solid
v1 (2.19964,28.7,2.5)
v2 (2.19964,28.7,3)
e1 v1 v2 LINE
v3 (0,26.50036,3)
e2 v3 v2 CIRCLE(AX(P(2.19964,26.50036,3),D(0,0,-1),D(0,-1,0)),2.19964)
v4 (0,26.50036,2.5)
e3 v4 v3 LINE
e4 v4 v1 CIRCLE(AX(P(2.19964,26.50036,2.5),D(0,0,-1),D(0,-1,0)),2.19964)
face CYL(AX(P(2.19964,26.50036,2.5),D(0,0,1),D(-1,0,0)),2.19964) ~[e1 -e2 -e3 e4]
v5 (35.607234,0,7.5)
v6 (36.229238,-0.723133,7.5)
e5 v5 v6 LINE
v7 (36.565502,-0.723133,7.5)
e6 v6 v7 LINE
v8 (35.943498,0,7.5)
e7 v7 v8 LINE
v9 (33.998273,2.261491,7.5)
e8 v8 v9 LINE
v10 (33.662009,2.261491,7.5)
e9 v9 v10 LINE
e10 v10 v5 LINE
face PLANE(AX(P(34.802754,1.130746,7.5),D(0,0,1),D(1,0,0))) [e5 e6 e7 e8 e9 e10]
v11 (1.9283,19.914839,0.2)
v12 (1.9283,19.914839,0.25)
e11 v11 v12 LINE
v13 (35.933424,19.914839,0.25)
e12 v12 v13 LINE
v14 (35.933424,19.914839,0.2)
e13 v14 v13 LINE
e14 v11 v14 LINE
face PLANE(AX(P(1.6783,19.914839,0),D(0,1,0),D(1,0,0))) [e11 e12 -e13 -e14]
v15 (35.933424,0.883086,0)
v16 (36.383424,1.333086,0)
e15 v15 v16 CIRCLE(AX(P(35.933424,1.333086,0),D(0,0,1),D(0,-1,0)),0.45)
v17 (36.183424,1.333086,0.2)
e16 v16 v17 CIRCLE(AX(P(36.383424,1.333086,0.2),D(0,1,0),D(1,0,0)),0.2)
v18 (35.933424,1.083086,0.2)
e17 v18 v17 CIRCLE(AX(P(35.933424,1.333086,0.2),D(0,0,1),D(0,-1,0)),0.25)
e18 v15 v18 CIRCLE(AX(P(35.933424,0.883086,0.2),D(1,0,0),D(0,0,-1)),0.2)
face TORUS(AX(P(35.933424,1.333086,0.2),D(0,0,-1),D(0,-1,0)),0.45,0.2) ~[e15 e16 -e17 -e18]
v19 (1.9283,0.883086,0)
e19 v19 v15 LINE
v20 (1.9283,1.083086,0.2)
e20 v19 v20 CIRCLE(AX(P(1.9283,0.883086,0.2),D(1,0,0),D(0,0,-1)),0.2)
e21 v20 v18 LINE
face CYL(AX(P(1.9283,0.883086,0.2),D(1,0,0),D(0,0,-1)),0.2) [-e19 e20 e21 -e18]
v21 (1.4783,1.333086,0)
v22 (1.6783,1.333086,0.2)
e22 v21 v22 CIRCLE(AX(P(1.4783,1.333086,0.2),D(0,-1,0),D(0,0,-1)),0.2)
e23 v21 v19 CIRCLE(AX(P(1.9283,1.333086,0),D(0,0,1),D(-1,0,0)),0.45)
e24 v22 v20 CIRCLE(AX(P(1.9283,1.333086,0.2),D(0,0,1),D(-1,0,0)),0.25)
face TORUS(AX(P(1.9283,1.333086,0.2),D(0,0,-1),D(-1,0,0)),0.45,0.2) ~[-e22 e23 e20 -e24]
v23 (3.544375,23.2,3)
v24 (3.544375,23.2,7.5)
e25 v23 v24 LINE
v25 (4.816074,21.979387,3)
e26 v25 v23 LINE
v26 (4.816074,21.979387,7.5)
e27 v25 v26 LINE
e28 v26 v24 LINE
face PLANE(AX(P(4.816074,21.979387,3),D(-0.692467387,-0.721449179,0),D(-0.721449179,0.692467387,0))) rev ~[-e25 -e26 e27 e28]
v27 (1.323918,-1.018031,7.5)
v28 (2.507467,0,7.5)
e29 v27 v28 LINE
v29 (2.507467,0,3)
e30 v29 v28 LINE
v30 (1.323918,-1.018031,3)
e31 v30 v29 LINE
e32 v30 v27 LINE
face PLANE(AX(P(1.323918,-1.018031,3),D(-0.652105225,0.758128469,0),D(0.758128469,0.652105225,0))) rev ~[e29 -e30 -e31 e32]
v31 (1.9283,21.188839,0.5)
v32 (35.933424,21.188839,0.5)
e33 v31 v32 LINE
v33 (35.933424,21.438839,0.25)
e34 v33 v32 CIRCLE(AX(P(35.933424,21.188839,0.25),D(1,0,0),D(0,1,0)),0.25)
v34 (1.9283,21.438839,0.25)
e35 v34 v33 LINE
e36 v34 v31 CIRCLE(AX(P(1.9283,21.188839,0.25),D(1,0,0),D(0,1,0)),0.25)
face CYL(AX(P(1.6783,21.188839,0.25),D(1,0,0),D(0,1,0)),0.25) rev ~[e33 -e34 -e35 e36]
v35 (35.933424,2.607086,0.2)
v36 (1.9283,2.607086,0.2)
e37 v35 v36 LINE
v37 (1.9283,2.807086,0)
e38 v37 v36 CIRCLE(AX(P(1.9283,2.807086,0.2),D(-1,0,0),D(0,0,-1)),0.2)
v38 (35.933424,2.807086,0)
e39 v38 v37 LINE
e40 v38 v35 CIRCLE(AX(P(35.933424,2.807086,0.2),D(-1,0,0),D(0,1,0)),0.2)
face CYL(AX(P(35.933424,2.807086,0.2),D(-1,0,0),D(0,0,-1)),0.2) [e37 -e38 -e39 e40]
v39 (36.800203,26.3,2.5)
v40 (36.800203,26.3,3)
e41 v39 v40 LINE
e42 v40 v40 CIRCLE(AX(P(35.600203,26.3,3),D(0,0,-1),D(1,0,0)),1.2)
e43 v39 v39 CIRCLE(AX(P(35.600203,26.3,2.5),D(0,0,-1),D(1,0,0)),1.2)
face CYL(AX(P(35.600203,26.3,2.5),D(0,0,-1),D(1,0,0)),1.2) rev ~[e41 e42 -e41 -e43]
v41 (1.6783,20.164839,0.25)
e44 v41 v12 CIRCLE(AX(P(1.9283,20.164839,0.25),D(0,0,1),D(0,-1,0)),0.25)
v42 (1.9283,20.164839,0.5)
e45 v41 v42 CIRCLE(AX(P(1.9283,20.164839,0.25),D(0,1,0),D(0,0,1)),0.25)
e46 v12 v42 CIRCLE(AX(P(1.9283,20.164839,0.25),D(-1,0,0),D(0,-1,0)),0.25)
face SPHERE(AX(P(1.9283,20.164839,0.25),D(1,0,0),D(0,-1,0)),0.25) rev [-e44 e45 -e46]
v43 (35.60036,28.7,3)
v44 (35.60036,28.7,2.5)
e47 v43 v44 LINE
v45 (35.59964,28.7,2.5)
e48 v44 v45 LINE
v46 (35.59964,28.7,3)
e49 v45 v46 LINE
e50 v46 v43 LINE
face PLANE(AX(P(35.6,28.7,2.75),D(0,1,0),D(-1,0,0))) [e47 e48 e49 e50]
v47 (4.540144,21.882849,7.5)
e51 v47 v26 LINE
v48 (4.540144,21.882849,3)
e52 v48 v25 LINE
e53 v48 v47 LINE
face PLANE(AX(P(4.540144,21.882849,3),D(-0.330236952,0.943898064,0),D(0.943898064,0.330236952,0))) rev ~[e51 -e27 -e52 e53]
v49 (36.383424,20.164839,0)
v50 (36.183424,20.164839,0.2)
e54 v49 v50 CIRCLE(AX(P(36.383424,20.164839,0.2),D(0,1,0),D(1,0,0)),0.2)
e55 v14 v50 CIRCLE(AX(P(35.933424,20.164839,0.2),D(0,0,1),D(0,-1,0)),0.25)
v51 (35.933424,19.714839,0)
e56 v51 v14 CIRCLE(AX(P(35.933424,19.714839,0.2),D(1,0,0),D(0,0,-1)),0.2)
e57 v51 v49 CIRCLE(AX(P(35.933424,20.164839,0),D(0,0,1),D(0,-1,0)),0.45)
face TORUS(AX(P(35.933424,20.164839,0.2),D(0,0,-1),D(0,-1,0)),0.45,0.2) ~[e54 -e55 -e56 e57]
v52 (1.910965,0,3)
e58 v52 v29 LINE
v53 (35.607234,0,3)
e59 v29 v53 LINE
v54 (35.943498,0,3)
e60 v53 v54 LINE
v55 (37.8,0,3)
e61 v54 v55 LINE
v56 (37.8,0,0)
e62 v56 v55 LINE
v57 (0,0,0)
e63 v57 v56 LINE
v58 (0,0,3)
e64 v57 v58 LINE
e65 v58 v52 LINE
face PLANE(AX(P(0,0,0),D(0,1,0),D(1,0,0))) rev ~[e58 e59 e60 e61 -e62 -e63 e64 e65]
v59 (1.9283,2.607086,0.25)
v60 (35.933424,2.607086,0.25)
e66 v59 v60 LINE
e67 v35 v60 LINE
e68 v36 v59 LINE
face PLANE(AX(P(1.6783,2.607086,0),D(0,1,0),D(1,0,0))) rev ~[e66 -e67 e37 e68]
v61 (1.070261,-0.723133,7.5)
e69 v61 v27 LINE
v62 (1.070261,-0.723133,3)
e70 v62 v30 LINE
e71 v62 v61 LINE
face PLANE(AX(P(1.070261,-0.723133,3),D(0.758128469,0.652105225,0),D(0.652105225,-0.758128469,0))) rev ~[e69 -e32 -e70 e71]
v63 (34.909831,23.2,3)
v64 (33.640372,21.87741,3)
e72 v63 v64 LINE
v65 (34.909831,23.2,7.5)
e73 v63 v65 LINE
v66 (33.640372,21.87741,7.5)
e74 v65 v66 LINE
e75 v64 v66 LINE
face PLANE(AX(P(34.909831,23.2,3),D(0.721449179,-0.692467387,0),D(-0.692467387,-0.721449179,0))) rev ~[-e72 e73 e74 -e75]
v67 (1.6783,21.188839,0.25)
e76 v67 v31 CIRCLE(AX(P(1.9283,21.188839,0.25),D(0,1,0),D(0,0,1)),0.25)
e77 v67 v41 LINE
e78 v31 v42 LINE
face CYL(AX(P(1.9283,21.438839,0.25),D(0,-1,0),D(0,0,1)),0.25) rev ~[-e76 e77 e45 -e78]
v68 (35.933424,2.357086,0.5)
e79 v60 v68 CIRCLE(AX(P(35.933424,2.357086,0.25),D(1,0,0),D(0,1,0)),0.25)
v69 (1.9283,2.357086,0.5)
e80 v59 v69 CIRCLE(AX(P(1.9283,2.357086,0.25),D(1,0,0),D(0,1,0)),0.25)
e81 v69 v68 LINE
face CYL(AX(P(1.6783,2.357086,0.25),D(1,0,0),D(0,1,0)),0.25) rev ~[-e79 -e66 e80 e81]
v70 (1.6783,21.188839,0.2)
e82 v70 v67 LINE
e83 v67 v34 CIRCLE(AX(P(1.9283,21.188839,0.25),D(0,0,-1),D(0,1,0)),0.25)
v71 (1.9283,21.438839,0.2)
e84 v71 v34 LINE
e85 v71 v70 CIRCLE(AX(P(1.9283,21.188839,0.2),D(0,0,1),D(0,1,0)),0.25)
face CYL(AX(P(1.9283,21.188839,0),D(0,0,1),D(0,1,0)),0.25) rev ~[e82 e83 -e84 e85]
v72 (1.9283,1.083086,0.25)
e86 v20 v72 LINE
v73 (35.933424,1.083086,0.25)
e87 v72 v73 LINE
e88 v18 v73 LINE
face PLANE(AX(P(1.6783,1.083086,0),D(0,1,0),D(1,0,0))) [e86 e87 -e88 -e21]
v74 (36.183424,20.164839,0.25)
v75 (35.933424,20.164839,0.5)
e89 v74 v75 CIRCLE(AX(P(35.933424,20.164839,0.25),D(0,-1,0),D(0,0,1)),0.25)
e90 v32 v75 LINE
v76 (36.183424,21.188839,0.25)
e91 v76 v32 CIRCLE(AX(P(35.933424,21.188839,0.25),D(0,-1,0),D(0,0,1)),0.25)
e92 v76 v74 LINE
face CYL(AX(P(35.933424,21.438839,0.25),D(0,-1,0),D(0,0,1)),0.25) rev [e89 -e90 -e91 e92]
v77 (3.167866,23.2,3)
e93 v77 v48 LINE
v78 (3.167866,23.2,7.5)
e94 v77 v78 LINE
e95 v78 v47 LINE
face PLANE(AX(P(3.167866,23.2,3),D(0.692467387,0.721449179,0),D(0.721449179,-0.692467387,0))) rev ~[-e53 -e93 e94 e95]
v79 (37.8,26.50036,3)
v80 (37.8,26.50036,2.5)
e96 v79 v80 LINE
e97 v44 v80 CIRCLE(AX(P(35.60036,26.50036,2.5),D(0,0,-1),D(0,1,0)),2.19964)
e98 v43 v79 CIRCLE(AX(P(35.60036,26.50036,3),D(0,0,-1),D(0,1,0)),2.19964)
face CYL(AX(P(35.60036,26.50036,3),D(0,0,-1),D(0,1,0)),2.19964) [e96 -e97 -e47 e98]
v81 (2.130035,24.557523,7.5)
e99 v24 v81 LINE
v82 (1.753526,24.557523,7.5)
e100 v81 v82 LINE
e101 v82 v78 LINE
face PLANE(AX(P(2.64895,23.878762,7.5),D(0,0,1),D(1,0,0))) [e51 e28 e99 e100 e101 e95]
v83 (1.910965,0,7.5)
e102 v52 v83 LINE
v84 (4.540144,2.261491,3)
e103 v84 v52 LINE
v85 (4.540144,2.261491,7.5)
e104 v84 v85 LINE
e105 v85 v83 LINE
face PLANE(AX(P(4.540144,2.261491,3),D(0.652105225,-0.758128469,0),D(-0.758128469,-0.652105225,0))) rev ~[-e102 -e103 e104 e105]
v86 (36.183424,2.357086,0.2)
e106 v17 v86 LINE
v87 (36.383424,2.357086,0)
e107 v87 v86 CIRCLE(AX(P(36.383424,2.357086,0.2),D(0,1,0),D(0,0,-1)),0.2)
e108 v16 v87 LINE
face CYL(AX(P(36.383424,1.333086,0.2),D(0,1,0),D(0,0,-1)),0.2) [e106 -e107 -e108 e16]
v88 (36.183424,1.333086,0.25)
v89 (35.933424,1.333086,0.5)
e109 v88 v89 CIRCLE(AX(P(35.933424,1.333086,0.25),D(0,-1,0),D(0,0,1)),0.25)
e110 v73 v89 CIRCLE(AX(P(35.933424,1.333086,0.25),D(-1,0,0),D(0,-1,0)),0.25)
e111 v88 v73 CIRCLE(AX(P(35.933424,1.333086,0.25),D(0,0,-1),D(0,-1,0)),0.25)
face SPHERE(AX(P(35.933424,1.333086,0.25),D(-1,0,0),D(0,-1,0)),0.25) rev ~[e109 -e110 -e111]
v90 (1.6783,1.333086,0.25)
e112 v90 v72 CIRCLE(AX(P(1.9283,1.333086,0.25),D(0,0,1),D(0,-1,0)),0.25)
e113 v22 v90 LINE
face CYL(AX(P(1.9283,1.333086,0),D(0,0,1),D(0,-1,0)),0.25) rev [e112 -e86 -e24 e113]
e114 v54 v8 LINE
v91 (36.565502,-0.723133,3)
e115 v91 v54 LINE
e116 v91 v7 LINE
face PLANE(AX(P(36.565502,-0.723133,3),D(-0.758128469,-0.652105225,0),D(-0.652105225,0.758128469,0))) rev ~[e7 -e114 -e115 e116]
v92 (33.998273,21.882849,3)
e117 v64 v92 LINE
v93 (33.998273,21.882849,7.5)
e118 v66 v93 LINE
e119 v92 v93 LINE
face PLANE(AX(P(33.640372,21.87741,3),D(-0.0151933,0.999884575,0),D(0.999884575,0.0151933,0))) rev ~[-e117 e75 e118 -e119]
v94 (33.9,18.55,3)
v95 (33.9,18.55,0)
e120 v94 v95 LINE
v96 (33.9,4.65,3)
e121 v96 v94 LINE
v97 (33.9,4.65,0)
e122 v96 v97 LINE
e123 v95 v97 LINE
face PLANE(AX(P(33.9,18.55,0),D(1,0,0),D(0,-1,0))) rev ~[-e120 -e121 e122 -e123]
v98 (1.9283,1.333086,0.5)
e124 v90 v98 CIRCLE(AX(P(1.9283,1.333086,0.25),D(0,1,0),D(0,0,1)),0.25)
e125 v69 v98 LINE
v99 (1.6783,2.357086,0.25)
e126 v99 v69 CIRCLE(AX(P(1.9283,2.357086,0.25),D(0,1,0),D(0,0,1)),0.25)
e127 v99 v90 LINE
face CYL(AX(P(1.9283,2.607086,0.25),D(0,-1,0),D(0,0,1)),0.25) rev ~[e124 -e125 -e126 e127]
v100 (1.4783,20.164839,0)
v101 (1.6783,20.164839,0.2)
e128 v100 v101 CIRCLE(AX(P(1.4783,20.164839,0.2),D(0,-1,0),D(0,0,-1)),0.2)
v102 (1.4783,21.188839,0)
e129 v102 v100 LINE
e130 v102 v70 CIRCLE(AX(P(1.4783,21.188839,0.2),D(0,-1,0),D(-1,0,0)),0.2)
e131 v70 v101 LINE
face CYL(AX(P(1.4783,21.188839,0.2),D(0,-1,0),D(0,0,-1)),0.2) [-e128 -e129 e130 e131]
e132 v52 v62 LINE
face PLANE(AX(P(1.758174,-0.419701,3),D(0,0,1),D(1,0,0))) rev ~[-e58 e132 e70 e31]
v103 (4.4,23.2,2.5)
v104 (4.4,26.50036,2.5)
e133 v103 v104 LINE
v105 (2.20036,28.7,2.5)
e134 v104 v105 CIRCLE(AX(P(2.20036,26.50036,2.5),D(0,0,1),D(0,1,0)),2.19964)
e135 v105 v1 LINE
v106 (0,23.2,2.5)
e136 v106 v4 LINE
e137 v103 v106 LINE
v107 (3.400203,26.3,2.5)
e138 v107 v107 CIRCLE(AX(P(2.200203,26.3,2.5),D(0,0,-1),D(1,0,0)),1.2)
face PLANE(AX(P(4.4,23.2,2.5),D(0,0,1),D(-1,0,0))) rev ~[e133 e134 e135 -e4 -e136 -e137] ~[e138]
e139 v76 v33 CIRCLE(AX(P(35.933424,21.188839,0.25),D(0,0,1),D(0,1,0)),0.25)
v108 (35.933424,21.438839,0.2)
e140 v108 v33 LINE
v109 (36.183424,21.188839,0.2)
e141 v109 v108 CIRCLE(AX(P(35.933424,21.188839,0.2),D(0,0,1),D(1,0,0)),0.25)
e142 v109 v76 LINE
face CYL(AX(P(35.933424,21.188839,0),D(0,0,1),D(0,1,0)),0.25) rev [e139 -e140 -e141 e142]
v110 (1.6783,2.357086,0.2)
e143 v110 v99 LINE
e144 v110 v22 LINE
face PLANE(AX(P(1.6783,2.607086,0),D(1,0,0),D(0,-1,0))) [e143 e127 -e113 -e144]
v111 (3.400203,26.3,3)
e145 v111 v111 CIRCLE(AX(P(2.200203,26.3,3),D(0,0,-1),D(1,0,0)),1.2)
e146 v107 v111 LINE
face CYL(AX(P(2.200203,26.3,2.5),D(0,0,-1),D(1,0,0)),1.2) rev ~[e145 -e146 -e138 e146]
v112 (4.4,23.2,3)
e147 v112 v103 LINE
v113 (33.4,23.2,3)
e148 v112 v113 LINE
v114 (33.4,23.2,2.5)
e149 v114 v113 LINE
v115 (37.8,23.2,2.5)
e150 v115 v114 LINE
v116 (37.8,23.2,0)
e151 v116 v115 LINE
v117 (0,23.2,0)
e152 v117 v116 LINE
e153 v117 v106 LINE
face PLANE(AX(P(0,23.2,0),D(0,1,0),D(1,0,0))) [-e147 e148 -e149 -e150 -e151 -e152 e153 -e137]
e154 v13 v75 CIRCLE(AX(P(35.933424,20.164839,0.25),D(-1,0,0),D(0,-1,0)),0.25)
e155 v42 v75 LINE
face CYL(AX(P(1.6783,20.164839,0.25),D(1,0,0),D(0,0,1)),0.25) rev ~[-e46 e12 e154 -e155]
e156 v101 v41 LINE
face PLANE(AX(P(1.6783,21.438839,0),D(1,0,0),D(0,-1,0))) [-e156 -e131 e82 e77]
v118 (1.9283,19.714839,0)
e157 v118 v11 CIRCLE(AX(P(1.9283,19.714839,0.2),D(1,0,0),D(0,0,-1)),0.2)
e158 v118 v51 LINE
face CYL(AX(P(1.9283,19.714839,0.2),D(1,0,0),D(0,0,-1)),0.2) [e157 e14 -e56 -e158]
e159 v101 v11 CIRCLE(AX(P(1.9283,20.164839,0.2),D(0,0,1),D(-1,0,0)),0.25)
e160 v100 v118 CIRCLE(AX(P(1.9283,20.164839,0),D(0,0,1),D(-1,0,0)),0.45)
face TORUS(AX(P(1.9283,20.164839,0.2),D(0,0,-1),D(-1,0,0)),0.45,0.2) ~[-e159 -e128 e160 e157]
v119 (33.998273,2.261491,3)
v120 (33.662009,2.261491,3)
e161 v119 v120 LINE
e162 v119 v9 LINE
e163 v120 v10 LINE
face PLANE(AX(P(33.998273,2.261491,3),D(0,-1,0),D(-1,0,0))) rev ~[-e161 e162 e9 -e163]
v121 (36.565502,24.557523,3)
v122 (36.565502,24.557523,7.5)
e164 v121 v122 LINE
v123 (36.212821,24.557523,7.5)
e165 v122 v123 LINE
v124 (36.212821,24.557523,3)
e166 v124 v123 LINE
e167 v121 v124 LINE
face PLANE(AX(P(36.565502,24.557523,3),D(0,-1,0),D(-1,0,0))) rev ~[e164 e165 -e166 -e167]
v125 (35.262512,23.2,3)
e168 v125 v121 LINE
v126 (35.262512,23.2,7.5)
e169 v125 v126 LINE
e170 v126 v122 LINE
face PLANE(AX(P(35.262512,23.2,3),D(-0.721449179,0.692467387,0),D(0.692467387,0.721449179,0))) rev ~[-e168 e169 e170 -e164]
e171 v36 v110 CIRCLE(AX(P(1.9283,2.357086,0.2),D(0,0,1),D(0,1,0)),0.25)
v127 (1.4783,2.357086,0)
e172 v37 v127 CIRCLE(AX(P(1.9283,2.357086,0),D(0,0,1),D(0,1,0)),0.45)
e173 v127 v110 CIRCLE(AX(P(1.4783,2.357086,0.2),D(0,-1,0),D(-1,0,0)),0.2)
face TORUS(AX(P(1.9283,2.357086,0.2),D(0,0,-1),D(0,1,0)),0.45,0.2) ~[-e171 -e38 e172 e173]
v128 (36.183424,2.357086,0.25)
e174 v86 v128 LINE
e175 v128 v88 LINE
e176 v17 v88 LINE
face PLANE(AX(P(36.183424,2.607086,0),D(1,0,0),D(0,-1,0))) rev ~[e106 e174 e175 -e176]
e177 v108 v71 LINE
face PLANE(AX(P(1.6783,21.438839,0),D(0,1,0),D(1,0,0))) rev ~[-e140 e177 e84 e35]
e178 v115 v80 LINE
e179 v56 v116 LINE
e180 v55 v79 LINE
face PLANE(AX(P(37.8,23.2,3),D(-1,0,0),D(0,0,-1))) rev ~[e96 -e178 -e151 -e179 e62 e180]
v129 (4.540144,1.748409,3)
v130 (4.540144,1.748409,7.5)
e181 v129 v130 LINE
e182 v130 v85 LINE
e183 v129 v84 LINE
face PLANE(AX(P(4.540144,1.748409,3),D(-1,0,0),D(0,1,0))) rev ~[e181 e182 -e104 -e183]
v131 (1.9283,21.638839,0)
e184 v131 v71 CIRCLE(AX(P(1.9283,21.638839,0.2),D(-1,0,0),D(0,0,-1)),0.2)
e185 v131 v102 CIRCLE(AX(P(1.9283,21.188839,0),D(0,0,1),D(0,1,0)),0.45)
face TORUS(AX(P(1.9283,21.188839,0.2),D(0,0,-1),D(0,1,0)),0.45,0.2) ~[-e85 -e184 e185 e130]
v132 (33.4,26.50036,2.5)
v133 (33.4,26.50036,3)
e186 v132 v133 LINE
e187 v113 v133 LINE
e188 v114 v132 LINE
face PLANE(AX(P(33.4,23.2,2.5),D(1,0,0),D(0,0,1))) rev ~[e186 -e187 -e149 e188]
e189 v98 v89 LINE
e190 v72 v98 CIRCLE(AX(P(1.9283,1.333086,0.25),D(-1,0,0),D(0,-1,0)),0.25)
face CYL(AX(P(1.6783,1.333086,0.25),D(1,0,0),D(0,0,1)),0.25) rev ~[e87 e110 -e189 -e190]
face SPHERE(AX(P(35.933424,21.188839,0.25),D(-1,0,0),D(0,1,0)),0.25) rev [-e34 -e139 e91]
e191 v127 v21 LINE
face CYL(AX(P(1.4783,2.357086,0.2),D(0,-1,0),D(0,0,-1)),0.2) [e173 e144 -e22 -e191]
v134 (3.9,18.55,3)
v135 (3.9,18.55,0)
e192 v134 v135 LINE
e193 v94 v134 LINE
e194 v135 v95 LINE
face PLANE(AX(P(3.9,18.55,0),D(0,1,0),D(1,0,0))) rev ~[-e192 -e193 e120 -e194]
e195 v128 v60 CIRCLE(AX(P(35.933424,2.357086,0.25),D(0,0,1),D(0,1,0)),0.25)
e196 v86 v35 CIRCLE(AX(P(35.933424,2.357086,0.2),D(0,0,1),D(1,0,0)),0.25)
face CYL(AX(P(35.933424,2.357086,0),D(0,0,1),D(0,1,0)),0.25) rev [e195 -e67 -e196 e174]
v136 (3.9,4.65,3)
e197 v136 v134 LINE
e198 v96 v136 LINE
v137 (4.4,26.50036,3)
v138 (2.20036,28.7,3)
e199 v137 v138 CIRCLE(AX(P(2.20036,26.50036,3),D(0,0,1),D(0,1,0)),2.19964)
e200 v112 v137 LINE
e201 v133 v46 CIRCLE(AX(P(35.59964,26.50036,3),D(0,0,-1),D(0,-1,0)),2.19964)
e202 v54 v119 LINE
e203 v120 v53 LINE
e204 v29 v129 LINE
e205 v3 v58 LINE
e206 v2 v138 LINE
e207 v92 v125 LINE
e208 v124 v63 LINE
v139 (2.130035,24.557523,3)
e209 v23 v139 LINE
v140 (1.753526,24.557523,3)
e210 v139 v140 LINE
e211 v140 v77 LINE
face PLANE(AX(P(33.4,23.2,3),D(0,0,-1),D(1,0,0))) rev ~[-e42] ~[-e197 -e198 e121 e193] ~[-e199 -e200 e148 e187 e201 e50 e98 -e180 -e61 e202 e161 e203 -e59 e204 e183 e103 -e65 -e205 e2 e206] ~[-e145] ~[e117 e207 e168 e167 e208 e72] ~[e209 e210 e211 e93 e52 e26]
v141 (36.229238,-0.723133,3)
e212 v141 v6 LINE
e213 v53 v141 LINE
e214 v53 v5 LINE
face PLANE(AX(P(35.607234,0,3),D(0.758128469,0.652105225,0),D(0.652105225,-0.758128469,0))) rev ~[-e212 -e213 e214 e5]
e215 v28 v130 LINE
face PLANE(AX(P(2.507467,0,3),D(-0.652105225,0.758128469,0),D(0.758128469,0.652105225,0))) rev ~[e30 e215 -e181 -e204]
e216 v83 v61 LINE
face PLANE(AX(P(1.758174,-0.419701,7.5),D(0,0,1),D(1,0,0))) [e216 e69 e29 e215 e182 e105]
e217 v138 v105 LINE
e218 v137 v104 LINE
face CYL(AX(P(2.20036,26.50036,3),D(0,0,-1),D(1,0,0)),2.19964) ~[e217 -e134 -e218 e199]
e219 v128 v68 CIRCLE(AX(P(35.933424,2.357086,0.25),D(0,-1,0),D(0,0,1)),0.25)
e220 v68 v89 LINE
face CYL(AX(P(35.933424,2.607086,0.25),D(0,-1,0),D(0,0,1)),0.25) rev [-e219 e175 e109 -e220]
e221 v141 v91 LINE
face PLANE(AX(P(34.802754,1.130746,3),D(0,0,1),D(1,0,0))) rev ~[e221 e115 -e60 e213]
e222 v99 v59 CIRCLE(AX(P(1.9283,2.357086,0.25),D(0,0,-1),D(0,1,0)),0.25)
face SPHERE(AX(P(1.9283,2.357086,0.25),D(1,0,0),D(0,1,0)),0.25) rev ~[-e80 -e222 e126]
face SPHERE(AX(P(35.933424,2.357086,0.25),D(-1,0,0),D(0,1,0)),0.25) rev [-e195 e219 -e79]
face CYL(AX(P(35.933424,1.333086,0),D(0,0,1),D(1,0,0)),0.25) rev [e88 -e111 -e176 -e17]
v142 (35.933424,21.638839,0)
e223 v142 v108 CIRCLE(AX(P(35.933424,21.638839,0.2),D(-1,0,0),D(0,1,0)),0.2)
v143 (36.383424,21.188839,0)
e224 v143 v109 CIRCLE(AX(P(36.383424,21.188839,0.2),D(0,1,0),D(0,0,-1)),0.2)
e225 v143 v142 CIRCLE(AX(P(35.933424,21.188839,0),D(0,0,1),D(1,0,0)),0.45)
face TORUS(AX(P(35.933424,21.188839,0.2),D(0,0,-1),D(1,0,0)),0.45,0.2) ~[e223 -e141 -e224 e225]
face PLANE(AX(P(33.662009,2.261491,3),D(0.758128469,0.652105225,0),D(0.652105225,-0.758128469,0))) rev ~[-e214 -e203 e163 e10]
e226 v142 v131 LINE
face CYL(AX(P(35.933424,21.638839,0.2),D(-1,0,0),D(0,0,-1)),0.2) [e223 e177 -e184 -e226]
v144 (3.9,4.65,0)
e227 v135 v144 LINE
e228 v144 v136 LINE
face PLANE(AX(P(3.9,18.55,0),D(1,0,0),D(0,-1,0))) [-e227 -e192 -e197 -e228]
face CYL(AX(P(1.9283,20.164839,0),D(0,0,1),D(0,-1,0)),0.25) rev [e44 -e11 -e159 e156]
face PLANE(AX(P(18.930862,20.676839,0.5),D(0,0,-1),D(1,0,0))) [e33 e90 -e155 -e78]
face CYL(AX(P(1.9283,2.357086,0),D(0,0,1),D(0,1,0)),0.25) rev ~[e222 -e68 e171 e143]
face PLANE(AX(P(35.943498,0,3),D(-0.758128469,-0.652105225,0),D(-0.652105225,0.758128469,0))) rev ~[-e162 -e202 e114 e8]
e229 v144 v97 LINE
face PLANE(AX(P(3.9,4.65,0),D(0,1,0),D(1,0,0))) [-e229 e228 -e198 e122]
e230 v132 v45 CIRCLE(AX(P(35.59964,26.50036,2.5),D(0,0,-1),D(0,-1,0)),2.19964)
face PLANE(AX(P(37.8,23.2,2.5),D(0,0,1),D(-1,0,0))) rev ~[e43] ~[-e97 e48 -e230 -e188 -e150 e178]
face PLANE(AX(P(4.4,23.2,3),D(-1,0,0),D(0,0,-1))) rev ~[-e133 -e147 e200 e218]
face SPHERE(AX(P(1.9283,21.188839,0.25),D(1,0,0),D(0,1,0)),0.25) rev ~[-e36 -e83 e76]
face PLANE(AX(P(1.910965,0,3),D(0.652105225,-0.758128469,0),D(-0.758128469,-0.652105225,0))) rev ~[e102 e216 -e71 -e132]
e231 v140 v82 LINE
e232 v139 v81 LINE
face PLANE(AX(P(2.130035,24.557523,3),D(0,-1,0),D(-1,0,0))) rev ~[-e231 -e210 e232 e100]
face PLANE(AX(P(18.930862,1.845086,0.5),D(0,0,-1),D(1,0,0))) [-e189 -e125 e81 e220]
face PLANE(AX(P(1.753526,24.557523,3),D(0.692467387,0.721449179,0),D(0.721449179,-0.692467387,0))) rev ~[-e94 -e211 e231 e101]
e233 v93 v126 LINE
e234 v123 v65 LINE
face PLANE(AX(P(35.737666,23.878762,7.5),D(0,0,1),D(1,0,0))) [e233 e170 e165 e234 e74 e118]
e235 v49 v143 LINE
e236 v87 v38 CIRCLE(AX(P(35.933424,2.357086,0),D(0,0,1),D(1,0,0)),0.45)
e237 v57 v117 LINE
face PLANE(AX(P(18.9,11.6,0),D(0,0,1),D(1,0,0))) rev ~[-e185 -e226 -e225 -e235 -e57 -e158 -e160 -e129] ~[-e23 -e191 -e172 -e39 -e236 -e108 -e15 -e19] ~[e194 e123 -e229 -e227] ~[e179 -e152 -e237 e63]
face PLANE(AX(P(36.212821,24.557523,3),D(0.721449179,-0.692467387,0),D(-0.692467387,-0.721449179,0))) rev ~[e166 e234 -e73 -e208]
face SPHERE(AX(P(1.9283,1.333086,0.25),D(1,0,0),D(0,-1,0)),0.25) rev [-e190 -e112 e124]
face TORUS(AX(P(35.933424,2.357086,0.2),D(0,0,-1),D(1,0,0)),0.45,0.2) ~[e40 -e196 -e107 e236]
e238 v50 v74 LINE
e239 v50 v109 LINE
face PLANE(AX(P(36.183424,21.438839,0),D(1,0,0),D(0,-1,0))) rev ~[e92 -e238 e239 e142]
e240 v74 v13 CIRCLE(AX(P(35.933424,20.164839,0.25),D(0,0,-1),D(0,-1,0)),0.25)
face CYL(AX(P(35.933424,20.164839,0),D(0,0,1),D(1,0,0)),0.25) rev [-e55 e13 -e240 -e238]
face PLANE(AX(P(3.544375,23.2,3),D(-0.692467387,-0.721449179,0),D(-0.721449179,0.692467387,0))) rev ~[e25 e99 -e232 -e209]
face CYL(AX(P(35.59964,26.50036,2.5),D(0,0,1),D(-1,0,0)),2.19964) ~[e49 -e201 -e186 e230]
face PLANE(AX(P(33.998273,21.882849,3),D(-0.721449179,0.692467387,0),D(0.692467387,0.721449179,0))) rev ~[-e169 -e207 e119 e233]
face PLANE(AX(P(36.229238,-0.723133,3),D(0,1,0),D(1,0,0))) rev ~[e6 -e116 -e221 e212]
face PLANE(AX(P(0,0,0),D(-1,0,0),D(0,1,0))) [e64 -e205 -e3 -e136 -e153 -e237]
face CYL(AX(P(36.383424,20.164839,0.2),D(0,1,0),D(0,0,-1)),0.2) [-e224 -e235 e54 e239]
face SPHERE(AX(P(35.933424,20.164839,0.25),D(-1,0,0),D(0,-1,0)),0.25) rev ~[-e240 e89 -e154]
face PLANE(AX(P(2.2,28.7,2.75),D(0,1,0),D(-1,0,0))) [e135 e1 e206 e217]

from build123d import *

# Parameters (mm, degrees)
F0_W      = 37.8
F0_H      = 23.2
F1_DEPTH  = 3
F3_DEPTH  = 4.5
F4_W      = 30
F4_H      = 13.9
F5_DEPTH  = 25.4
F4_W_2    = 34.5051246695
F4_H_2    = 1.524
F6_DEPTH  = 0.5
F7_R      = 0.25
F8_R      = 0.2
F9_R      = 0.2
F11_DEPTH = 5.5
F12_R     = 2.19964
F13_R     = 2.19964
F15_R     = 1.2
F14_R     = 1.2
F16_DEPTH = 25.4


with BuildPart() as f1:
    # F0 (on Top) → F1 (new body)
    with BuildSketch(Plane.XY):
        with Locations((18.9, 11.6)):
            Rectangle(F0_W, F0_H)
    extrude(amount=F1_DEPTH)

    # F2 (on face) → F3 (join)
    with BuildSketch(Plane.XY.offset(3)):
        Polygon((1.7535259355, 24.5575234294), (3.1678657052, 23.2), (3.544374615, 23.2), (2.1300348453, 24.5575234294), align=None)
        Polygon((3.544374615, 23.2), (3.1678657052, 23.2), (4.5401435345, 21.8828488141), (4.8160737062, 21.97938714), align=None)
        Polygon((2.5074673859, 0), (1.9109652349, 0), (1.0702608852, -0.7231329801), (1.3239181902, -1.0180314366), align=None)
        Polygon((4.5401435345, 1.7484091301), (4.5401435345, 2.2614912596), (1.9109652349, 0), (2.5074673859, 0), align=None)
        Polygon((33.6620093499, 2.2614912596), (35.6072341062, 0), (35.9434980693, 0), (33.998273313, 2.2614912596), align=None)
        Polygon((35.9434980693, 0), (35.6072341062, 0), (36.2292379141, -0.7231329801), (36.5655018772, -0.7231329801), align=None)
        Polygon((36.2128205597, 24.5575234294), (34.9098310654, 23.2), (35.2625123829, 23.2), (36.5655018772, 24.5575234294), align=None)
        Polygon((35.2625123829, 23.2), (34.9098310654, 23.2), (33.6403721345, 21.8774104865), (33.998273313, 21.8828488141), align=None)
    extrude(amount=F3_DEPTH)

    # F4 (on face) → F5 (cut)
    with BuildSketch(Plane(origin=(0, 0, 0), x_dir=(1, 0, 0), z_dir=(0, 0, -1))):
        with Locations((18.9, -11.6)):
            Rectangle(F4_W, F4_H)
    extrude(amount=-F5_DEPTH, mode=Mode.SUBTRACT)

    # F4 (on face) → F6 (cut)
    with BuildSketch(Plane(origin=(0, 0, 0), x_dir=(1, 0, 0), z_dir=(0, 0, -1))):
        with Locations((18.9, -11.6)):
            Rectangle(F4_W, F4_H)
        with Locations((18.9308619592, -1.8450859749)):
            Rectangle(F4_W_2, F4_H_2)
        with Locations((18.9308619592, -20.676838914)):
            Rectangle(F4_W_2, F4_H_2)
    extrude(amount=-F6_DEPTH, mode=Mode.SUBTRACT)

    # F7
    f7_edges = [f1.edges().sort_by_distance(p)[0] for p in [
        (18.930862, 2.607086, 0.5),
        (18.930862, 1.083086, 0.5),
        (18.930862, 19.914839, 0.5),
        (18.930862, 21.438839, 0.5),
        (1.6783, 19.914839, 0.25),
        (1.6783, 21.438839, 0.25),
        (1.6783, 2.607086, 0.25),
        (1.6783, 1.083086, 0.25),
        (1.6783, 1.845086, 0.5),
        (1.6783, 20.676839, 0.5),
        (36.183424, 19.914839, 0.25),
        (36.183424, 21.438839, 0.25),
        (36.183424, 20.676839, 0.5),
        (36.183424, 1.083086, 0.25),
        (36.183424, 2.607086, 0.25),
        (36.183424, 1.845086, 0.5),
    ]]
    fillet(f7_edges, radius=F7_R)

    # F8
    f8_edges = [f1.edges().sort_by_distance(p)[0] for p in [
        (18.930862, 1.083086, 0),
        (36.183424, 1.845086, 0),
        (36.110201, 1.156309, 0),
        (36.110201, 2.533863, 0),
        (1.6783, 1.845086, 0),
        (1.751523, 1.156309, 0),
        (1.751523, 2.533863, 0),
        (18.930862, 2.607086, 0),
    ]]
    fillet(f8_edges, radius=F8_R)

    # F9
    f9_edges = [f1.edges().sort_by_distance(p)[0] for p in [
        (18.930862, 19.914839, 0),
        (36.110201, 19.988062, 0),
        (36.183424, 20.676839, 0),
        (36.110201, 21.365616, 0),
        (18.930862, 21.438839, 0),
        (1.751523, 21.365616, 0),
        (1.6783, 20.676839, 0),
        (1.751523, 19.988062, 0),
    ]]
    fillet(f9_edges, radius=F9_R)

    # F10 (on face) → F11 (join)
    with BuildSketch(Plane(origin=(0, 23.2, 0), x_dir=(-1, 0, 0), z_dir=(0, 1, 0))):
        Polygon((-33.4, 2.5), (-33.4, 3), (-34.9098310654, 3), (-35.2625123829, 3), (-37.8, 3), (-37.8, 2.5), align=None)
        Polygon((0, 2.5), (0, 3), (-3.1678657052, 3), (-3.544374615, 3), (-4.4, 3), (-4.4, 2.5), align=None)
    extrude(amount=F11_DEPTH)

    # F12
    f12_edges = [f1.edges().sort_by_distance(p)[0] for p in [
        (0, 28.7, 2.75),
        (4.4, 28.7, 2.75),
    ]]
    fillet(f12_edges, radius=F12_R)

    # F13
    f13_edges = [f1.edges().sort_by_distance(p)[0] for p in [
        (33.4, 28.7, 2.75),
        (37.8, 28.7, 2.75),
    ]]
    fillet(f13_edges, radius=F13_R)

    # F15 (on face) + F14 (on face) → F16 (cut)
    with BuildSketch(Plane(origin=(0, 0, 2.5), x_dir=(1, 0, 0), z_dir=(0, 0, -1))):
        with Locations((2.2002029091, -26.3000000051)):
            Circle(F15_R)
    with BuildSketch(Plane(origin=(0, 0, 2.5), x_dir=(1, 0, 0), z_dir=(0, 0, -1))):
        with Locations((35.6002029091, -26.3000000051)):
            Circle(F14_R)
    extrude(amount=-F16_DEPTH, mode=Mode.SUBTRACT)


solid = f1.part
